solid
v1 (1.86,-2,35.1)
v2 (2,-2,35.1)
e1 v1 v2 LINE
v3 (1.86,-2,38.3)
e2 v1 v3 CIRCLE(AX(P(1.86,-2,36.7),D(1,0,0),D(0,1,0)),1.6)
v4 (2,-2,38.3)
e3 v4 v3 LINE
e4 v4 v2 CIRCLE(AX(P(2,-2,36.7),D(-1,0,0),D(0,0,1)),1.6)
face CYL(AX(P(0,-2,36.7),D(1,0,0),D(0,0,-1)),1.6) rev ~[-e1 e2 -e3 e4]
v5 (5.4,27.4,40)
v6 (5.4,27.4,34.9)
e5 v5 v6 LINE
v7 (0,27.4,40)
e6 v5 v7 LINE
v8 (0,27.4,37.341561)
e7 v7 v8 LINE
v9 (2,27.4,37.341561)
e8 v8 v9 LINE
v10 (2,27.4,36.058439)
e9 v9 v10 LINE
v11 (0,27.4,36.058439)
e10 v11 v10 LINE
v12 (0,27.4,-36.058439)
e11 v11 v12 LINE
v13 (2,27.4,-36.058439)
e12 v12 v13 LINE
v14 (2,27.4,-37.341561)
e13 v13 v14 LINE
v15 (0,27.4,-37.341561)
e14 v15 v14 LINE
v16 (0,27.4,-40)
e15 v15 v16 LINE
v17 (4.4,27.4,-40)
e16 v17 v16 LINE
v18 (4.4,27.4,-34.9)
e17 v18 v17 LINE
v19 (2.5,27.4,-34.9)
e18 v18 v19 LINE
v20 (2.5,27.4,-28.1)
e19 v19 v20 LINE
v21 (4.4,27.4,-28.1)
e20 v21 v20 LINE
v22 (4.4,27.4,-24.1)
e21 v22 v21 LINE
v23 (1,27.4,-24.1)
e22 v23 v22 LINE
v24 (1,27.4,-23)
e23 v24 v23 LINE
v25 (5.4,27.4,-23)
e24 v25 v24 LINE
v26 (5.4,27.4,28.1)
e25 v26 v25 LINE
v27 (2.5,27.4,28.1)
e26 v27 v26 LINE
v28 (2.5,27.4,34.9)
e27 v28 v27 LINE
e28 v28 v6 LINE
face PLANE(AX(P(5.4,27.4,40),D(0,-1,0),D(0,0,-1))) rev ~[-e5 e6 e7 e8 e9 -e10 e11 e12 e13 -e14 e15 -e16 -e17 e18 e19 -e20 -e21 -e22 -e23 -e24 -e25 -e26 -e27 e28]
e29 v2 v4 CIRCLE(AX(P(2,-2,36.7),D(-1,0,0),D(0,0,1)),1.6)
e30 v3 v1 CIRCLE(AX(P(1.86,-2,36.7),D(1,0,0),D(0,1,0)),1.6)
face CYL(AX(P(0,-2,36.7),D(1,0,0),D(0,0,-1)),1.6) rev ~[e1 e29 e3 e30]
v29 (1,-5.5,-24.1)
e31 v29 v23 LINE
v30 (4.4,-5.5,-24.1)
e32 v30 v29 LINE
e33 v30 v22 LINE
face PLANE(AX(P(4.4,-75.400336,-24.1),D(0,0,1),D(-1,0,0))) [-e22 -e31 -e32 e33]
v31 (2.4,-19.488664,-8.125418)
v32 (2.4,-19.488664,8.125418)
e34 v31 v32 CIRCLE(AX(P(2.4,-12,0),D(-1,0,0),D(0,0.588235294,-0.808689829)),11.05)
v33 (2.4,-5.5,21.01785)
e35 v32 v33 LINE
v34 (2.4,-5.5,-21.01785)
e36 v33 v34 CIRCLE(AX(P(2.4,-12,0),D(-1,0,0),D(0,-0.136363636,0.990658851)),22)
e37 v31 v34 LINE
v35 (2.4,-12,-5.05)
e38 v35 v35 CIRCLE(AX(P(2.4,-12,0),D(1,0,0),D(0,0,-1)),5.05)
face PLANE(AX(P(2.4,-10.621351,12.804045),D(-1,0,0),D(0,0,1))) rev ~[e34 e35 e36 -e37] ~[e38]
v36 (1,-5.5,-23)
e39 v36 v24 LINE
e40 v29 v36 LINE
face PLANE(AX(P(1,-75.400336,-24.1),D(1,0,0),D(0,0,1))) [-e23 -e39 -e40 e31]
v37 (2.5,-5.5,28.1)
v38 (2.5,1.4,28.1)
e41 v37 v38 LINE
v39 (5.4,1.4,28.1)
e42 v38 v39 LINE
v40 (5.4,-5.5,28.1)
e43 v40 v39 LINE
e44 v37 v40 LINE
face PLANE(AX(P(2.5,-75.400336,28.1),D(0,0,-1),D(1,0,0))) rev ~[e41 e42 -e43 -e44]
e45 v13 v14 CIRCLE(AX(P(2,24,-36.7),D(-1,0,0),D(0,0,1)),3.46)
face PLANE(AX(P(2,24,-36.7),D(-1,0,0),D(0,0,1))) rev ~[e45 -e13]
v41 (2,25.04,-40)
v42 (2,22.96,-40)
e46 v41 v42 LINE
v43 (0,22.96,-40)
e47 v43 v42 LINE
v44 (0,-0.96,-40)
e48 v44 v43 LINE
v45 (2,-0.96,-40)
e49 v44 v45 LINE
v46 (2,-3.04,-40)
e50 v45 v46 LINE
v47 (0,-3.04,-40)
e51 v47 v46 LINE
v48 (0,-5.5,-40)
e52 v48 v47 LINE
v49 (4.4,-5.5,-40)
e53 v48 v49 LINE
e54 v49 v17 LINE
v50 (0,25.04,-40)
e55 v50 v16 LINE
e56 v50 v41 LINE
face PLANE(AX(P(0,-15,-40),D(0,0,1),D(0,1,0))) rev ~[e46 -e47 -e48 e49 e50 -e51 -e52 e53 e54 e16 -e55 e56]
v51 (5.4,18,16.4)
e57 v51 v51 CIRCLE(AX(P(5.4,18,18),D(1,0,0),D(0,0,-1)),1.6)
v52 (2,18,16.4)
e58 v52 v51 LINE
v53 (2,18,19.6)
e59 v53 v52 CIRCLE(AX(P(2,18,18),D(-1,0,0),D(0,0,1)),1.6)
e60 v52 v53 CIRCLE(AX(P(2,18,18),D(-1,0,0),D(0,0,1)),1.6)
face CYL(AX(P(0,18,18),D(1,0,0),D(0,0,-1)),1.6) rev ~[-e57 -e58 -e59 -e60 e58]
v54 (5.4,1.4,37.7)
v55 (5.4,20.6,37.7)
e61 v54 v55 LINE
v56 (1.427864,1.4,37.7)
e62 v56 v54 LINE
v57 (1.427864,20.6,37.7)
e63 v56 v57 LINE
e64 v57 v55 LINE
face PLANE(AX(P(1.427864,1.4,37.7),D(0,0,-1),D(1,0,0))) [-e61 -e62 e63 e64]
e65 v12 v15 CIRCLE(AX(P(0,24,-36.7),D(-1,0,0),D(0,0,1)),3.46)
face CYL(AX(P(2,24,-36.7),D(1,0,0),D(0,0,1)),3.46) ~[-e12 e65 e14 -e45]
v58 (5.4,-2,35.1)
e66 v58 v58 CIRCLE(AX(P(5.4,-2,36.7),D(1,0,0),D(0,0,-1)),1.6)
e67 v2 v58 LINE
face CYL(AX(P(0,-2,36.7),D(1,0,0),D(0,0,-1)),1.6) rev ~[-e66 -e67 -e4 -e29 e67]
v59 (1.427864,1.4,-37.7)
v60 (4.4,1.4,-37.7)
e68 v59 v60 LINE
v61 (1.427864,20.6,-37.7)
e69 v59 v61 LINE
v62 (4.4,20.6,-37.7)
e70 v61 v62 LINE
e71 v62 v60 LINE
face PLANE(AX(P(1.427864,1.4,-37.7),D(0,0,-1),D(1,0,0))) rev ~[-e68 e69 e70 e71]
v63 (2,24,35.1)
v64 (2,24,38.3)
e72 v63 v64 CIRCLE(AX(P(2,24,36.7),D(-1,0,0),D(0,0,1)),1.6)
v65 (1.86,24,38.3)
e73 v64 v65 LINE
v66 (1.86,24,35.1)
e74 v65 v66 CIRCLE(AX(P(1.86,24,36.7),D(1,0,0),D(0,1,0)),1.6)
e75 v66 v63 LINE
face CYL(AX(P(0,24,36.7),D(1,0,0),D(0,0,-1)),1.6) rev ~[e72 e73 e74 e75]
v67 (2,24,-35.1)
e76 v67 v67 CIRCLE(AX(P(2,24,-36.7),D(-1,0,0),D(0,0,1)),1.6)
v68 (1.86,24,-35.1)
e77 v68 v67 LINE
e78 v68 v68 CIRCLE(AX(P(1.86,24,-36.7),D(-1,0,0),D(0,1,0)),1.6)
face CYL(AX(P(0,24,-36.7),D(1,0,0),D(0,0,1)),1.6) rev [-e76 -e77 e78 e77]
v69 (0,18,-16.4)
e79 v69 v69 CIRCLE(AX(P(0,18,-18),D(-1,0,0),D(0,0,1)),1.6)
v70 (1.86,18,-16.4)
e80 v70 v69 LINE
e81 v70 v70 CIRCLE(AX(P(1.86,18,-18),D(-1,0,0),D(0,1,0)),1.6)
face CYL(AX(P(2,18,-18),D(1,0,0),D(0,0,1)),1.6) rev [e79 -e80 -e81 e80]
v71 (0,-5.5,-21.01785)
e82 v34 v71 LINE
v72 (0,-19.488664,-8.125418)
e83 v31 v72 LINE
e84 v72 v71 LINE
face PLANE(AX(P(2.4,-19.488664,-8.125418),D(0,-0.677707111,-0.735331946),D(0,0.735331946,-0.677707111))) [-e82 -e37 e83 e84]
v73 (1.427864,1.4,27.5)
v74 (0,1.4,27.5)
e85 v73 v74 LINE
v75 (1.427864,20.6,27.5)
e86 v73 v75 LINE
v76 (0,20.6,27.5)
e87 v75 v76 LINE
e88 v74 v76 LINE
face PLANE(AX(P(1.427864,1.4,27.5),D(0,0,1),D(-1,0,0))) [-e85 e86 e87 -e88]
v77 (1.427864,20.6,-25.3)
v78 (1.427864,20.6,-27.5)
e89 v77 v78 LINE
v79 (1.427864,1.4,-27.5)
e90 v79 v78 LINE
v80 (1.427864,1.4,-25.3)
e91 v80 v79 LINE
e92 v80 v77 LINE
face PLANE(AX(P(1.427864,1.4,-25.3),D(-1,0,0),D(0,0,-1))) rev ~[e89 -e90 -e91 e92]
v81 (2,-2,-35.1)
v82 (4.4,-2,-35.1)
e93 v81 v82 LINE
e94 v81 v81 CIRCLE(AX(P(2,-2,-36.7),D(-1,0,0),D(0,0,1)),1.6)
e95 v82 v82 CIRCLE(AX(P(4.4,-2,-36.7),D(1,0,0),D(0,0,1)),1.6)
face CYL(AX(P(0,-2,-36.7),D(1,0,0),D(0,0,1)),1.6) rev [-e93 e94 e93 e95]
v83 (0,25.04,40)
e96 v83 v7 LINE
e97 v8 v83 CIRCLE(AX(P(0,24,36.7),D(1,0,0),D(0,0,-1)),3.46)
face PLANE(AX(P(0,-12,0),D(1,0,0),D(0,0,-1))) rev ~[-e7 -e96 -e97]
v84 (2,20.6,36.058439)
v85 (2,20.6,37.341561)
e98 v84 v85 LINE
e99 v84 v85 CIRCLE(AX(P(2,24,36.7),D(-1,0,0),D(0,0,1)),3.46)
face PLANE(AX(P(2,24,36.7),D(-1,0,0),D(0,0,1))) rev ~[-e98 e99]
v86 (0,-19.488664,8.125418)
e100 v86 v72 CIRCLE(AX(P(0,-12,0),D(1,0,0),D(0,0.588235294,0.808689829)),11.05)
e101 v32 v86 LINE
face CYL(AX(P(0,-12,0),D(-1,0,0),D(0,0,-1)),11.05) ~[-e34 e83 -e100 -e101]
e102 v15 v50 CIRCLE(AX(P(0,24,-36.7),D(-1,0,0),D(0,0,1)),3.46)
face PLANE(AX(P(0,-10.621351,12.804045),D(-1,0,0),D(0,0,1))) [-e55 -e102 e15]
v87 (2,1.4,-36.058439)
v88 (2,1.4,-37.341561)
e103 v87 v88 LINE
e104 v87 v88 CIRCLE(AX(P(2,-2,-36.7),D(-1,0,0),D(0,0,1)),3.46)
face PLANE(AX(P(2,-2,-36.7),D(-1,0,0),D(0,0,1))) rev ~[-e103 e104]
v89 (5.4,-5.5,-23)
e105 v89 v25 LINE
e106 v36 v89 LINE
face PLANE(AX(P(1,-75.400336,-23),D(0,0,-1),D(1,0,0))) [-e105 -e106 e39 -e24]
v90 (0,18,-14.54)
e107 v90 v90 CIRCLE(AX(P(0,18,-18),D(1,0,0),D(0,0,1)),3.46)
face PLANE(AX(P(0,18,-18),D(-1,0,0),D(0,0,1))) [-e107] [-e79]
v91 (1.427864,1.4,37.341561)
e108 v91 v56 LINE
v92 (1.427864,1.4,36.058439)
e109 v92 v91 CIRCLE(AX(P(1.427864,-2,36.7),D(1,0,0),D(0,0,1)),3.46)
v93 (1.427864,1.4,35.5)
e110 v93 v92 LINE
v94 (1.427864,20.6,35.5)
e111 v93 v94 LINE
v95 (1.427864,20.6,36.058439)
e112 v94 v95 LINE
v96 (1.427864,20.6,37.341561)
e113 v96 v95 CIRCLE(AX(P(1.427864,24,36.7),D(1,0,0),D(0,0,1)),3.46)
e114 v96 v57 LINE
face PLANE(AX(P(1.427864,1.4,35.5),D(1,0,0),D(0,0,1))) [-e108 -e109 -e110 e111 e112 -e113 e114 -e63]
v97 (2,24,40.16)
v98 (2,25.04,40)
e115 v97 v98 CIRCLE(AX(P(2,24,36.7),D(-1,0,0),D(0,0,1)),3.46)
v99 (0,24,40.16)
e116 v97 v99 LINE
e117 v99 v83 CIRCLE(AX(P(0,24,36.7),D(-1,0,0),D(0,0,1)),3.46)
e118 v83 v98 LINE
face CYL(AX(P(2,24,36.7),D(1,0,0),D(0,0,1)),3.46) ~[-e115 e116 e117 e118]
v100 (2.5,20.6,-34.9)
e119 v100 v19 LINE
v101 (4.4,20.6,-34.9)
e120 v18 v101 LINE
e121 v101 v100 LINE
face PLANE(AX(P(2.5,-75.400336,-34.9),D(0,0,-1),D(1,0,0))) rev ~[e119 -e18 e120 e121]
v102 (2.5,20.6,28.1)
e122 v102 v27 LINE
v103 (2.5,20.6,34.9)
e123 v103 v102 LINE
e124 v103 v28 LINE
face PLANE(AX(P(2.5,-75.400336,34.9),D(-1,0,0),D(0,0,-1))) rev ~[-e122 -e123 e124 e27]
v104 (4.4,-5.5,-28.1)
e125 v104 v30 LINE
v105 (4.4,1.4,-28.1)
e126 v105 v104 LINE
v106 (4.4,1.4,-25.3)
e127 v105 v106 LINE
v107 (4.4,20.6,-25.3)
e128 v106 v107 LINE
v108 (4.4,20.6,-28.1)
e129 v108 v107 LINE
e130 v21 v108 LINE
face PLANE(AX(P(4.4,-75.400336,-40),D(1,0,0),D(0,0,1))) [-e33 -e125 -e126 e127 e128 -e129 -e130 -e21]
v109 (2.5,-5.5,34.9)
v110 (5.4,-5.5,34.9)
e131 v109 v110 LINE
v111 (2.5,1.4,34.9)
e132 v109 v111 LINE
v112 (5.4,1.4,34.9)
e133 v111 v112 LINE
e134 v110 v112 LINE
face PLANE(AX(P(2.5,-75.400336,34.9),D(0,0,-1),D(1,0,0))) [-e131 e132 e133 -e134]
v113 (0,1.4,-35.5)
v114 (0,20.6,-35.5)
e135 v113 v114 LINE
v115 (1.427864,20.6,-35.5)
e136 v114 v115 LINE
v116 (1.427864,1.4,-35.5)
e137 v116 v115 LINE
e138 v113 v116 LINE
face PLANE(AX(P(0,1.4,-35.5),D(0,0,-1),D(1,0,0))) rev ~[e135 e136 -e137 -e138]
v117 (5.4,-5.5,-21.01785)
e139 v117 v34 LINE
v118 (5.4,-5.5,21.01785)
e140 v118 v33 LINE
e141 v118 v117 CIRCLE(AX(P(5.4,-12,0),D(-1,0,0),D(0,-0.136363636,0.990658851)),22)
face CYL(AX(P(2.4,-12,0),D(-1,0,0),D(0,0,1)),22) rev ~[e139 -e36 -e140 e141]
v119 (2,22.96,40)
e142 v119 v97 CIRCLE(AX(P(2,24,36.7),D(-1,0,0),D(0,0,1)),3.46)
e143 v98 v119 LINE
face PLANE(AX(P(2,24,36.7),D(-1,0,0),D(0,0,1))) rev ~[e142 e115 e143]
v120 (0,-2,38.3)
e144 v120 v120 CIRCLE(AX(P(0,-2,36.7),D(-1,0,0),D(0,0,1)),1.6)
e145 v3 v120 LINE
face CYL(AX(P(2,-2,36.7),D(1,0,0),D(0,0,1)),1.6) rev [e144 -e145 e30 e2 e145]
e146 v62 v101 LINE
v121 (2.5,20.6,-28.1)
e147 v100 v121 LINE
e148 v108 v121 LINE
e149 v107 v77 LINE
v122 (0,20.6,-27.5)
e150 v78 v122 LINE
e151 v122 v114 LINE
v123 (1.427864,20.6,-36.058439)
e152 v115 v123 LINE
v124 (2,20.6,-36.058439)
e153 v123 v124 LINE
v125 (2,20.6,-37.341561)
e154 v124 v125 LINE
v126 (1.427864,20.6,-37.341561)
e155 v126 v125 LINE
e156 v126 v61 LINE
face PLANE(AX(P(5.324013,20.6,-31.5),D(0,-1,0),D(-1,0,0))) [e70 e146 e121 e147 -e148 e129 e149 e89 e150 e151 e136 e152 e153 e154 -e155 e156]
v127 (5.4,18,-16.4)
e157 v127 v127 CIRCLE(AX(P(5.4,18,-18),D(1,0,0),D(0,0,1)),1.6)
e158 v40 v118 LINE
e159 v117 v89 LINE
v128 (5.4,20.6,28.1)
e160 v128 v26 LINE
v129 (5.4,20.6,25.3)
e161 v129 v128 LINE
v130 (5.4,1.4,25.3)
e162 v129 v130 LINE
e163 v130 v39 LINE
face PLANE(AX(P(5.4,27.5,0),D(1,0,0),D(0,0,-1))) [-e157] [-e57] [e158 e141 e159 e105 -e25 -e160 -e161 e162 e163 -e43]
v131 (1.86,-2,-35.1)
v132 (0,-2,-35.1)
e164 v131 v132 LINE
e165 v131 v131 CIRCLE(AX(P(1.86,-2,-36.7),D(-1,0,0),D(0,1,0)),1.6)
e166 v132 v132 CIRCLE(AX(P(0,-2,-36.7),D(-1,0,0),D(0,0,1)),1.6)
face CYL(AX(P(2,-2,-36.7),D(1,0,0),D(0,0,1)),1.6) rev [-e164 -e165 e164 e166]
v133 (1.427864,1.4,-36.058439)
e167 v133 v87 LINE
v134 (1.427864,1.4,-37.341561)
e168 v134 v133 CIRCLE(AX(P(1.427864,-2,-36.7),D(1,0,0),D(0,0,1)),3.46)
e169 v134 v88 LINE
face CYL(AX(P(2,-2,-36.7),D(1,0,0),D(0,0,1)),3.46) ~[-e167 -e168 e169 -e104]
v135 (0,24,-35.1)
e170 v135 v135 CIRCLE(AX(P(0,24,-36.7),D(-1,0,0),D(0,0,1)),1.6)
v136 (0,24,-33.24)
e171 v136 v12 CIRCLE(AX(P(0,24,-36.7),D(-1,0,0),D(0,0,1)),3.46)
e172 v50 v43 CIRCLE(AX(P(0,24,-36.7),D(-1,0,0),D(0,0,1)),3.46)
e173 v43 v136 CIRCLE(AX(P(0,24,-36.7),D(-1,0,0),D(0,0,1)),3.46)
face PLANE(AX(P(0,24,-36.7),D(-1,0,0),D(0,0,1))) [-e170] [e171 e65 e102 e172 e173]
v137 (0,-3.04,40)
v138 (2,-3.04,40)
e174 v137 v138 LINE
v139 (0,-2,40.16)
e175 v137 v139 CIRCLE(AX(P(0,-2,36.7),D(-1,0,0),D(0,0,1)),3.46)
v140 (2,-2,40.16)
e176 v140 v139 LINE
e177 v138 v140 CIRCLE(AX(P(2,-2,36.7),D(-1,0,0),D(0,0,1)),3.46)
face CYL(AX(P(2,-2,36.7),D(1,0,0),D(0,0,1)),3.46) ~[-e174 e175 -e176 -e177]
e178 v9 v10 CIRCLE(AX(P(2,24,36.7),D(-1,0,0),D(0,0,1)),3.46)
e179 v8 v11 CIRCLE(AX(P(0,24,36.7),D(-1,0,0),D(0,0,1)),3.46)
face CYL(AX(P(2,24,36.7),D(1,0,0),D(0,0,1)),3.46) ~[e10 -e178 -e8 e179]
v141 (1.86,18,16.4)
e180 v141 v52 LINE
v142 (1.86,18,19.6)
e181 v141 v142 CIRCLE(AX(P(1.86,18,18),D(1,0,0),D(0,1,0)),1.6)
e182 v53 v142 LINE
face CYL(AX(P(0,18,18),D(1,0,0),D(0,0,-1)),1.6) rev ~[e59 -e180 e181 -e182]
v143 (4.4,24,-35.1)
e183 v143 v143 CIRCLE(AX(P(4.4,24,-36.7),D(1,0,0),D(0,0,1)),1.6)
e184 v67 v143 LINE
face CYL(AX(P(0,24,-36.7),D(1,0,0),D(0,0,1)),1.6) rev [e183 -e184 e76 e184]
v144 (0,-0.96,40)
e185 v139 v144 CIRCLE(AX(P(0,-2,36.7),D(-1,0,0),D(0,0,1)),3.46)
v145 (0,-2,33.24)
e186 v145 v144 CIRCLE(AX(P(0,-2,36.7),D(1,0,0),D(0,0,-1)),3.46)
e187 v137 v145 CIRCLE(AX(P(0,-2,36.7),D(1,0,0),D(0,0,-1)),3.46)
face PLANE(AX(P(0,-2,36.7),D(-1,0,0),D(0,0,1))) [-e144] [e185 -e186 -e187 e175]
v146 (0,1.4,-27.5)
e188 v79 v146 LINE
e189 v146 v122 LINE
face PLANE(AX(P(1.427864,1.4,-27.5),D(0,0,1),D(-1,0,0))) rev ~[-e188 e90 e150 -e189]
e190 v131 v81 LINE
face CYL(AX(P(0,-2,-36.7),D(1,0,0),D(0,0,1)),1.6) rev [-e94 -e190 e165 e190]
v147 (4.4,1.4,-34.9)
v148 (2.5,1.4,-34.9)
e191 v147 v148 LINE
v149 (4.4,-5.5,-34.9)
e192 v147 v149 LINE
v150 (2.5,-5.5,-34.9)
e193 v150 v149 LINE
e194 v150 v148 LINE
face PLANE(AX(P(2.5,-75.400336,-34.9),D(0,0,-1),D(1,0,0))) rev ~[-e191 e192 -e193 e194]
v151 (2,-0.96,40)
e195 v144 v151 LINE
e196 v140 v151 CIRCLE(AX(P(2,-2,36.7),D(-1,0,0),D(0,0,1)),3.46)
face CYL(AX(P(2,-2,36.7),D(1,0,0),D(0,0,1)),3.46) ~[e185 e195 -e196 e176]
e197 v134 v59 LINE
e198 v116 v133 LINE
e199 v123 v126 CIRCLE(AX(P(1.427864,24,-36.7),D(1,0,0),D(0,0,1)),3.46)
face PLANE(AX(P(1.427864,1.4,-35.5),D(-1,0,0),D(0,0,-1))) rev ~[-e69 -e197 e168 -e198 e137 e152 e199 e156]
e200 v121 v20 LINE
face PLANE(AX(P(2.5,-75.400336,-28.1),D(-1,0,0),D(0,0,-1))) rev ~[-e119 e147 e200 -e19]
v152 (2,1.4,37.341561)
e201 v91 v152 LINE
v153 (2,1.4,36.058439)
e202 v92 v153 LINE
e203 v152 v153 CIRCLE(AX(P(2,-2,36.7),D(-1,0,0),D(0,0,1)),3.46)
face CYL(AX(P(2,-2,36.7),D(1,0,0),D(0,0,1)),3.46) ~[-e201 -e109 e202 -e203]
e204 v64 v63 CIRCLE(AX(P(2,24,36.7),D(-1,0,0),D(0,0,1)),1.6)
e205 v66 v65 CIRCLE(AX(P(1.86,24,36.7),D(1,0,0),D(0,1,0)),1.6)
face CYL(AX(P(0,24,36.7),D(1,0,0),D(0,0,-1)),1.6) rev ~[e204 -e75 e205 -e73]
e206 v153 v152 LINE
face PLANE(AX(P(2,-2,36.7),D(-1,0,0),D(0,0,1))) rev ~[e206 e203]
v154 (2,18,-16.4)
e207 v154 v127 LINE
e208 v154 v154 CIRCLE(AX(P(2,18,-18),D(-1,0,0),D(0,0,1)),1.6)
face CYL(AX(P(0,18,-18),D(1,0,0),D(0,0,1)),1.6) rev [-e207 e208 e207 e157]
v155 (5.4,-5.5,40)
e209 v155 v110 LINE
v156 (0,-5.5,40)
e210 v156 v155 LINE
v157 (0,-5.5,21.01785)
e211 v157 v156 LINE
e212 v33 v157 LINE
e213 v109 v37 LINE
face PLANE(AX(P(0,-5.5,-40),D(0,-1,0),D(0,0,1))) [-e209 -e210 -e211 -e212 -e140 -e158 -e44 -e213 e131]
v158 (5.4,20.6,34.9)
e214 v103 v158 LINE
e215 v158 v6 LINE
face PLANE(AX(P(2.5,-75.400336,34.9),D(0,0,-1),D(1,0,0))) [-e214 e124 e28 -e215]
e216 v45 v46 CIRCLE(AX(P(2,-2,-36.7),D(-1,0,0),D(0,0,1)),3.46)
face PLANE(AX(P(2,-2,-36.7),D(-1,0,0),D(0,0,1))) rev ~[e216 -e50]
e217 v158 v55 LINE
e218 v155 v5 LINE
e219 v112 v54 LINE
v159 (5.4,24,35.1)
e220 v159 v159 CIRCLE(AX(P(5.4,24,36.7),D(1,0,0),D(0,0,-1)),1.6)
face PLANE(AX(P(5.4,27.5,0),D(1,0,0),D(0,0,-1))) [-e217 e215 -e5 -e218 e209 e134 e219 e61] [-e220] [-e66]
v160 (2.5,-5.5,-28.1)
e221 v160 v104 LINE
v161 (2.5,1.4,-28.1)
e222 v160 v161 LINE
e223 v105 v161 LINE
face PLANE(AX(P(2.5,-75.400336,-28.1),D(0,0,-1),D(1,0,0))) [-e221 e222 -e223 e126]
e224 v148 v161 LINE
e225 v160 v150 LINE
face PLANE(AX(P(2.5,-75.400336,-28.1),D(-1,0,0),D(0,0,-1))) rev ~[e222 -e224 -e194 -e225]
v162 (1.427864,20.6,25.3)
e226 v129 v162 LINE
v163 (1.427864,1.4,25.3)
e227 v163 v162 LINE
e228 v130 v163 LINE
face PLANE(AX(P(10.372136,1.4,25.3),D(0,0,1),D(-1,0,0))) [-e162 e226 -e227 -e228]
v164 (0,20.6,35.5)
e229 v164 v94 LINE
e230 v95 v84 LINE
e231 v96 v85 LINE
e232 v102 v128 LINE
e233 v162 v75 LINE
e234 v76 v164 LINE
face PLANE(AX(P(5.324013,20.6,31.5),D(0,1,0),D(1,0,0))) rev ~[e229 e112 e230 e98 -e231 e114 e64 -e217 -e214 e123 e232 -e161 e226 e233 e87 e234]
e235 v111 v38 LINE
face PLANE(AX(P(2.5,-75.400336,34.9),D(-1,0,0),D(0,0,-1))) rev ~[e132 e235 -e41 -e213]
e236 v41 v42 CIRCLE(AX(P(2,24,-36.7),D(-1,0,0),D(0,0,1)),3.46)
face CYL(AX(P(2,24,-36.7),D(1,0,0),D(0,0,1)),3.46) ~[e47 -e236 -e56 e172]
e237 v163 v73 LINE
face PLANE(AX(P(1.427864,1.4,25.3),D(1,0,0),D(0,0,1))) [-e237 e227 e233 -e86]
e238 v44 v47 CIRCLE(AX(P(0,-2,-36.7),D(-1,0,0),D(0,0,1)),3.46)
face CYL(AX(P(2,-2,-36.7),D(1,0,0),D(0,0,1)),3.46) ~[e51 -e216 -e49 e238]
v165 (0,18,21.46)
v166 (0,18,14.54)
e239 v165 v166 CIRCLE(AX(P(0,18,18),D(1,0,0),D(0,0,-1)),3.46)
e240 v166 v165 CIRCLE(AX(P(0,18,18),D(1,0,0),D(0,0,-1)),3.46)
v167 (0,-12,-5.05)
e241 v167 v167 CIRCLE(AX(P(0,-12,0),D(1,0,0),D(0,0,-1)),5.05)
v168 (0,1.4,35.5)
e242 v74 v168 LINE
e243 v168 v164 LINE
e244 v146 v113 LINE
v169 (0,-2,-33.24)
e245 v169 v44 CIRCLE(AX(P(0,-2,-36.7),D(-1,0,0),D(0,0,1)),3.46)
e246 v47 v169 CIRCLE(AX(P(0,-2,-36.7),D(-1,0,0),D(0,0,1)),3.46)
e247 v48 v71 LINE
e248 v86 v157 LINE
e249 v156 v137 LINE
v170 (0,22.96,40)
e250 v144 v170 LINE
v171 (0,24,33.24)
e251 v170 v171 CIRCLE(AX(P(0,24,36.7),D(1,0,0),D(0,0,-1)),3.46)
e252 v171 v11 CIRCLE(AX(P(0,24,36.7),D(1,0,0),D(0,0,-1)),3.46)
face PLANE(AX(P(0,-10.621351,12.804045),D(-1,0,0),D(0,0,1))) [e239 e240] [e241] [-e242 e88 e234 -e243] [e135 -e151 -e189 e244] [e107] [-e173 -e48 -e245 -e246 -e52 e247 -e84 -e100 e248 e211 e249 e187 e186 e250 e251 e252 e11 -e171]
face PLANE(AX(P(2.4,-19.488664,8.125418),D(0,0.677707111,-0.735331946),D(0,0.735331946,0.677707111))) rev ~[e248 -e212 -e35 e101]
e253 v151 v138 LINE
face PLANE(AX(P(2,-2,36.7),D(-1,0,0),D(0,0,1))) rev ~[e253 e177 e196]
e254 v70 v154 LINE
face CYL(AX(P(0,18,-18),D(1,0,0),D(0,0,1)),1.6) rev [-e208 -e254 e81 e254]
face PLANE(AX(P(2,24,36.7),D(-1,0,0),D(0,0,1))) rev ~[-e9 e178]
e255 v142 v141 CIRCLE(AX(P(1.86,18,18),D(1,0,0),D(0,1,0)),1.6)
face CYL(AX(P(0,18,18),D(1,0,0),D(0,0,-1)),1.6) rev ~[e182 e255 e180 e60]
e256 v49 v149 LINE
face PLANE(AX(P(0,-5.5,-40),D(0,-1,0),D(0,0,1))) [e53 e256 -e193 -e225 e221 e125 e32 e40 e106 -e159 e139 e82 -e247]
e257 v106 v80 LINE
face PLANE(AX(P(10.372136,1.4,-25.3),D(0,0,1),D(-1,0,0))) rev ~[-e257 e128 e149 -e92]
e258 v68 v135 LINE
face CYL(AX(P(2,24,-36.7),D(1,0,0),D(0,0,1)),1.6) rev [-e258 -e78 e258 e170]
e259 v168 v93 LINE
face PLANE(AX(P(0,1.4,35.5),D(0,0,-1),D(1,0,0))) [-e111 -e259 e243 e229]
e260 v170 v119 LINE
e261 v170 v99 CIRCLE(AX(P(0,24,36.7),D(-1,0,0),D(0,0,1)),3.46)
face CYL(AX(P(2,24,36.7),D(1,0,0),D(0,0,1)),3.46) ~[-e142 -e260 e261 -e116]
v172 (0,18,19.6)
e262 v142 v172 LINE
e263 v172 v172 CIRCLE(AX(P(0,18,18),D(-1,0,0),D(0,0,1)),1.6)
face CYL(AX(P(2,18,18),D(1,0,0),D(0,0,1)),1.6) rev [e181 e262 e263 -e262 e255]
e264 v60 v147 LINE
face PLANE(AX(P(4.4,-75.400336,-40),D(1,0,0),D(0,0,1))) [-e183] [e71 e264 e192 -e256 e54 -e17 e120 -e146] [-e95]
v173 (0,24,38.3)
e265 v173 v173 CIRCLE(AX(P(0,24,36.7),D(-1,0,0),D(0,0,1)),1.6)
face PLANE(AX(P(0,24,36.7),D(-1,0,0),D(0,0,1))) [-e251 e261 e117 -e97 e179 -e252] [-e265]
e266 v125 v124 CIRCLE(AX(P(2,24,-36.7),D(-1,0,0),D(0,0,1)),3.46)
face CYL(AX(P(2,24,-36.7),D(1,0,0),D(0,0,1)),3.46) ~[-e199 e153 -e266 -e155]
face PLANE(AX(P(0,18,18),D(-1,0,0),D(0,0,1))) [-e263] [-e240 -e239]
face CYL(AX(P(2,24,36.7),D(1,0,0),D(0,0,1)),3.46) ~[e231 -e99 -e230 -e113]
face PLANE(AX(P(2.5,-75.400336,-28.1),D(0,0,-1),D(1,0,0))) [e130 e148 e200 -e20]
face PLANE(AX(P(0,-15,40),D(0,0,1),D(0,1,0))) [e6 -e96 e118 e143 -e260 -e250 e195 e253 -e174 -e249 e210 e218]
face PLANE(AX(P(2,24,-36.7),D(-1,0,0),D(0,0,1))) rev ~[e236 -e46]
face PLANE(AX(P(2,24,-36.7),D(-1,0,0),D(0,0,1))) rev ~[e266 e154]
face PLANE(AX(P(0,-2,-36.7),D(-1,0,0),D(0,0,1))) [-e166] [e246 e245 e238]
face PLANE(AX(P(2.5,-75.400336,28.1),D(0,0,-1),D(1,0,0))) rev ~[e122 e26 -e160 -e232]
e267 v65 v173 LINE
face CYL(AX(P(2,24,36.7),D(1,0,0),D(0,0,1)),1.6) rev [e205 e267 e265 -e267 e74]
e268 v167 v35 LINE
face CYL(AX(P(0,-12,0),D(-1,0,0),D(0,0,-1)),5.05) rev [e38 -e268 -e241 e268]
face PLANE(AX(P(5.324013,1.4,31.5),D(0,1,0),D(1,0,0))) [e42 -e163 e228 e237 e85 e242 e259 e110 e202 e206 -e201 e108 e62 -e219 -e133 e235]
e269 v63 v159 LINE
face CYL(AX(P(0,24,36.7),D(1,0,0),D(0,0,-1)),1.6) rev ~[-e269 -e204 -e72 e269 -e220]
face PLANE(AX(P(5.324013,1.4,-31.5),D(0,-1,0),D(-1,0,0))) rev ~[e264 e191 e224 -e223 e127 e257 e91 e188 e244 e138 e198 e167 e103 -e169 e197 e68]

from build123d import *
from build123d.topology import SkipClean

# Parameters (mm, degrees)
ESQUISSE2_W                                       = 80
ESQUISSE2_H                                       = 85
PLAQUE_DEPTH                                      = 5.4
ESQUISSE15_R                                      = 22
D_GAGEMENT_ROUE_DEPTH                             = 81.678373806
D_COUPE_INF_RIEURE_DEPTH                          = 81.803217758
ESQUISSE14_R                                      = 11.05
ESQUISSE14_R_2                                    = 5.05
RENFORT_ROULEMENT_DEPTH                           = 2.4
D_COUPE_SUP_RIEURE_DEPTH                          = 81.803217758
D_GAGEMENT_AXE_6_DEPTH                            = 75.400336021
D_GAGEMENT_AXE_6_DEPTH_BACK                       = 75.400336021
ESQUISSE26_W                                      = 6.8
ESQUISSE26_H                                      = 6.8
D_GAGEMENT_START                                  = 1.4
D_GAGEMENT_DOUILLE_DEPTH                          = 19.2
R_P_TITION_LIN_AIRE1_COUNT                        = 2
R_P_TITION_LIN_AIRE1_PITCH                        = 26
MORS_D_FORMABLE_DOUILLE_DEPTH                     = 75.400336021
MORS_D_FORMABLE_DOUILLE_DEPTH_BACK                = 75.400336021
FRAISAGE_POUR_VIS_T_TE_FRAIS_E_BOMB_E_D           = 3.2
FRAISAGE_POUR_VIS_T_TE_FRAIS_E_BOMB_E_CSINK_D     = 6.92
FRAISAGE_POUR_VIS_T_TE_FRAIS_E_BOMB_E_CSINK_ANGLE = 90
ESQUISSE31_W                                      = 80
ESQUISSE31_H                                      = 35.1
ENL_V_MAT_EXTRU_1_DEPTH                           = 5.4
BOSS_EXTRU_1_DEPTH                                = 2.4
BOSS_EXTRU_3_START                                = -2
ESQUISSE34_R                                      = 3.46
ESQUISSE34_R_2                                    = 1.6
BOSS_EXTRU_3_DEPTH                                = 2


with BuildPart() as part:
    # Esquisse2 → plaque (new body)
    with BuildSketch(Plane(origin=(0, 0, 0), x_dir=(0, 0, -1), z_dir=(1, 0, 0))):
        with Locations((0, 27.5)):
            Rectangle(ESQUISSE2_W, ESQUISSE2_H)
    extrude(amount=PLAQUE_DEPTH)

    # Esquisse15 → dégagement roue (cut, through all)
    with BuildSketch(Plane.ZY.offset(-2.4)):
        with Locations((0, -12)):
            Circle(ESQUISSE15_R)
    extrude(amount=-D_GAGEMENT_ROUE_DEPTH, mode=Mode.SUBTRACT)

    # Esquisse18 → découpe_inférieure (cut, through all)
    with BuildSketch(Plane(origin=(0, 0, 0), x_dir=(0, 0, -1), z_dir=(1, 0, 0))):
        Polygon((-7.446869682, -5.5), (-40, -5.5), (-40, -15), (40, -15), (40, -5.5), (7.446869682, -5.5), align=None)
    extrude(amount=D_COUPE_INF_RIEURE_DEPTH, mode=Mode.SUBTRACT)

    # Esquisse14 → renfort_roulement (add)
    with BuildSketch(Plane(origin=(0, 0, 0), x_dir=(0, 0, -1), z_dir=(1, 0, 0))):
        with Locations((0, -12)):
            Circle(ESQUISSE14_R)
        with Locations((0, -12)):
            Circle(ESQUISSE14_R_2, mode=Mode.SUBTRACT)
    extrude(amount=RENFORT_ROULEMENT_DEPTH)

    # Esquisse20 → découpe_supérieure (cut, through all)
    with BuildSketch(Plane(origin=(0, 0, 0), x_dir=(0, 0, -1), z_dir=(1, 0, 0))):
        with BuildLine():
            Line((-40, 70), (40, 70))
            Line((40, 70), (40, 62.5))
            Line((40, 62.5), (26, 62.5))
            ThreePointArc((26, 62.5), (22.956192855, 61.466766701), (21.170370869, 58.794095226))
            Line((21.170370869, 58.794095226), (15.559208556, 37.852952387))
            ThreePointArc((15.559208556, 37.852952387), (14.666297563, 36.516616649), (13.144393991, 36))
            Line((13.144393991, 36), (-13.144393991, 36))
            ThreePointArc((-13.144393991, 36), (-14.666297563, 36.516616649), (-15.559208556, 37.852952387))
            Line((-15.559208556, 37.852952387), (-21.170370869, 58.794095226))
            ThreePointArc((-21.170370869, 58.794095226), (-22.956192855, 61.466766701), (-26, 62.5))
            Line((-26, 62.5), (-40, 62.5))
            Line((-40, 62.5), (-40, 70))
        make_face()
    extrude(amount=D_COUPE_SUP_RIEURE_DEPTH, mode=Mode.SUBTRACT)

    # Esquisse26 → dégagement axe 6 (cut, two sides: drawn at the far end of the back side and taken through both)
    with BuildSketch(Plane(origin=(0, 0, 0), x_dir=(1, 0, 0), z_dir=(0, 1, 0)).offset(-D_GAGEMENT_AXE_6_DEPTH_BACK)):
        with Locations((5.9, 31.5)):
            Rectangle(ESQUISSE26_W, ESQUISSE26_H)
        with Locations((5.9, -31.5)):
            Rectangle(ESQUISSE26_W, ESQUISSE26_H)
    extrude(amount=D_GAGEMENT_AXE_6_DEPTH + D_GAGEMENT_AXE_6_DEPTH_BACK, mode=Mode.SUBTRACT)

    # Esquisse28 → dégagement douille (cut)
    with BuildSketch(Plane(origin=(0, 0, 0), x_dir=(1, 0, 0), z_dir=(0, 1, 0)).offset(D_GAGEMENT_START)):
        Polygon((0, 35.5), (1.427864045, 35.5), (1.427864045, 37.7), (10.372135955, 37.7), (10.372135955, 25.3), (1.427864045, 25.3), (1.427864045, 27.5), (0, 27.5), align=None)
        Polygon((10.372135955, -25.3), (1.427864045, -25.3), (1.427864045, -27.5), (0, -27.5), (0, -35.5), (1.427864045, -35.5), (1.427864045, -37.7), (10.372135955, -37.7), align=None)
    d_gagement_douille = extrude(amount=D_GAGEMENT_DOUILLE_DEPTH, mode=Mode.SUBTRACT)

    # Répétition linéaire1: dégagement douille ×2
    with Locations(*[(0, i * R_P_TITION_LIN_AIRE1_PITCH, 0) for i in range(1, R_P_TITION_LIN_AIRE1_COUNT)]):
        add(d_gagement_douille, mode=Mode.SUBTRACT)

    # Esquisse19 → Mors_déformable_douille (cut, two sides: drawn at the far end of the back side and taken through both)
    with BuildSketch(Plane(origin=(0, 0, 0), x_dir=(1, 0, 0), z_dir=(0, 1, 0)).offset(-MORS_D_FORMABLE_DOUILLE_DEPTH_BACK)):
        Polygon((5.4, 40), (4.4, 40), (4.4, 24.1), (1, 24.1), (1, 23), (5.4, 23), align=None)
    extrude(amount=MORS_D_FORMABLE_DOUILLE_DEPTH + MORS_D_FORMABLE_DOUILLE_DEPTH_BACK, mode=Mode.SUBTRACT)

    # Fraisage pour vis à tête fraisée bombée fendue M31 (through all)
    with Locations(Plane.ZY):
        with Locations((18, 18), (36.7, 24), (36.7, -2), (21, 34)):
            fraisage_pour_vis_t_te_frais_e_bomb_e = CounterSinkHole(FRAISAGE_POUR_VIS_T_TE_FRAIS_E_BOMB_E_D / 2, FRAISAGE_POUR_VIS_T_TE_FRAIS_E_BOMB_E_CSINK_D / 2, counter_sink_angle=FRAISAGE_POUR_VIS_T_TE_FRAIS_E_BOMB_E_CSINK_ANGLE)

    # Esquisse31 → Enlèv. mat.-Extru.1 (cut)
    with BuildSketch(Plane(origin=(5.4, 0, 0), x_dir=(0, 0, -1), z_dir=(1, 0, 0))):
        with Locations((0, 44.95)):
            Rectangle(ESQUISSE31_W, ESQUISSE31_H)
    extrude(amount=-ENL_V_MAT_EXTRU_1_DEPTH, mode=Mode.SUBTRACT)

    # Esquisse33 → Boss.-Extru.1 (add)
    with BuildSketch(Plane(origin=(2.4, 0, 0), x_dir=(0, 0, -1), z_dir=(1, 0, 0))):
        Polygon((-8.125418007, -19.488663579), (-21.017849557, -5.5), (-8.936022605, -5.5), align=None)
        Polygon((8.125418007, -19.488663579), (21.017849557, -5.5), (8.936022605, -5.5), align=None)
    extrude(amount=-BOSS_EXTRU_1_DEPTH)

    # Symétrie4: Fraisage pour vis à tête fraisée bombée fendue M31 across plane
    add(fraisage_pour_vis_t_te_frais_e_bomb_e.mirror(Plane.XY), mode=Mode.SUBTRACT)

    # Esquisse34 → Boss.-Extru.3 (add)
    # profile 1 of 6: a face of its own
    with SkipClean():  # the faces are left unmerged after this step: merging them gives an invalid solid
        with BuildSketch(Plane.ZY.offset(BOSS_EXTRU_3_START)):
            with Locations((-36.7, 24)):
                Circle(ESQUISSE34_R)
            with Locations((-36.7, 24)):
                Circle(ESQUISSE34_R_2, mode=Mode.SUBTRACT)
        # profile 2 of 6: a face of its own
        with BuildSketch(Plane.ZY.offset(BOSS_EXTRU_3_START)):
            with Locations((-36.7, -2)):
                Circle(ESQUISSE34_R)
            with Locations((-36.7, -2)):
                Circle(ESQUISSE34_R_2, mode=Mode.SUBTRACT)
        # profile 3 of 6: a face of its own
        with BuildSketch(Plane.ZY.offset(BOSS_EXTRU_3_START)):
            with Locations((-18, 18)):
                Circle(ESQUISSE34_R)
            with Locations((-18, 18)):
                Circle(ESQUISSE34_R_2, mode=Mode.SUBTRACT)
        # profile 4 of 6: a face of its own
        with BuildSketch(Plane.ZY.offset(BOSS_EXTRU_3_START)):
            with Locations((18, 18)):
                Circle(ESQUISSE34_R)
            with Locations((18, 18)):
                Circle(ESQUISSE34_R_2, mode=Mode.SUBTRACT)
        # profile 5 of 6: a face of its own
        with BuildSketch(Plane.ZY.offset(BOSS_EXTRU_3_START)):
            with Locations((36.7, -2)):
                Circle(ESQUISSE34_R)
            with Locations((36.7, -2)):
                Circle(ESQUISSE34_R_2, mode=Mode.SUBTRACT)
        # profile 6 of 6: a face of its own
        with BuildSketch(Plane.ZY.offset(BOSS_EXTRU_3_START)):
            with Locations((36.7, 24)):
                Circle(ESQUISSE34_R)
            with Locations((36.7, 24)):
                Circle(ESQUISSE34_R_2, mode=Mode.SUBTRACT)
        extrude(amount=BOSS_EXTRU_3_DEPTH)


solid = part.part
